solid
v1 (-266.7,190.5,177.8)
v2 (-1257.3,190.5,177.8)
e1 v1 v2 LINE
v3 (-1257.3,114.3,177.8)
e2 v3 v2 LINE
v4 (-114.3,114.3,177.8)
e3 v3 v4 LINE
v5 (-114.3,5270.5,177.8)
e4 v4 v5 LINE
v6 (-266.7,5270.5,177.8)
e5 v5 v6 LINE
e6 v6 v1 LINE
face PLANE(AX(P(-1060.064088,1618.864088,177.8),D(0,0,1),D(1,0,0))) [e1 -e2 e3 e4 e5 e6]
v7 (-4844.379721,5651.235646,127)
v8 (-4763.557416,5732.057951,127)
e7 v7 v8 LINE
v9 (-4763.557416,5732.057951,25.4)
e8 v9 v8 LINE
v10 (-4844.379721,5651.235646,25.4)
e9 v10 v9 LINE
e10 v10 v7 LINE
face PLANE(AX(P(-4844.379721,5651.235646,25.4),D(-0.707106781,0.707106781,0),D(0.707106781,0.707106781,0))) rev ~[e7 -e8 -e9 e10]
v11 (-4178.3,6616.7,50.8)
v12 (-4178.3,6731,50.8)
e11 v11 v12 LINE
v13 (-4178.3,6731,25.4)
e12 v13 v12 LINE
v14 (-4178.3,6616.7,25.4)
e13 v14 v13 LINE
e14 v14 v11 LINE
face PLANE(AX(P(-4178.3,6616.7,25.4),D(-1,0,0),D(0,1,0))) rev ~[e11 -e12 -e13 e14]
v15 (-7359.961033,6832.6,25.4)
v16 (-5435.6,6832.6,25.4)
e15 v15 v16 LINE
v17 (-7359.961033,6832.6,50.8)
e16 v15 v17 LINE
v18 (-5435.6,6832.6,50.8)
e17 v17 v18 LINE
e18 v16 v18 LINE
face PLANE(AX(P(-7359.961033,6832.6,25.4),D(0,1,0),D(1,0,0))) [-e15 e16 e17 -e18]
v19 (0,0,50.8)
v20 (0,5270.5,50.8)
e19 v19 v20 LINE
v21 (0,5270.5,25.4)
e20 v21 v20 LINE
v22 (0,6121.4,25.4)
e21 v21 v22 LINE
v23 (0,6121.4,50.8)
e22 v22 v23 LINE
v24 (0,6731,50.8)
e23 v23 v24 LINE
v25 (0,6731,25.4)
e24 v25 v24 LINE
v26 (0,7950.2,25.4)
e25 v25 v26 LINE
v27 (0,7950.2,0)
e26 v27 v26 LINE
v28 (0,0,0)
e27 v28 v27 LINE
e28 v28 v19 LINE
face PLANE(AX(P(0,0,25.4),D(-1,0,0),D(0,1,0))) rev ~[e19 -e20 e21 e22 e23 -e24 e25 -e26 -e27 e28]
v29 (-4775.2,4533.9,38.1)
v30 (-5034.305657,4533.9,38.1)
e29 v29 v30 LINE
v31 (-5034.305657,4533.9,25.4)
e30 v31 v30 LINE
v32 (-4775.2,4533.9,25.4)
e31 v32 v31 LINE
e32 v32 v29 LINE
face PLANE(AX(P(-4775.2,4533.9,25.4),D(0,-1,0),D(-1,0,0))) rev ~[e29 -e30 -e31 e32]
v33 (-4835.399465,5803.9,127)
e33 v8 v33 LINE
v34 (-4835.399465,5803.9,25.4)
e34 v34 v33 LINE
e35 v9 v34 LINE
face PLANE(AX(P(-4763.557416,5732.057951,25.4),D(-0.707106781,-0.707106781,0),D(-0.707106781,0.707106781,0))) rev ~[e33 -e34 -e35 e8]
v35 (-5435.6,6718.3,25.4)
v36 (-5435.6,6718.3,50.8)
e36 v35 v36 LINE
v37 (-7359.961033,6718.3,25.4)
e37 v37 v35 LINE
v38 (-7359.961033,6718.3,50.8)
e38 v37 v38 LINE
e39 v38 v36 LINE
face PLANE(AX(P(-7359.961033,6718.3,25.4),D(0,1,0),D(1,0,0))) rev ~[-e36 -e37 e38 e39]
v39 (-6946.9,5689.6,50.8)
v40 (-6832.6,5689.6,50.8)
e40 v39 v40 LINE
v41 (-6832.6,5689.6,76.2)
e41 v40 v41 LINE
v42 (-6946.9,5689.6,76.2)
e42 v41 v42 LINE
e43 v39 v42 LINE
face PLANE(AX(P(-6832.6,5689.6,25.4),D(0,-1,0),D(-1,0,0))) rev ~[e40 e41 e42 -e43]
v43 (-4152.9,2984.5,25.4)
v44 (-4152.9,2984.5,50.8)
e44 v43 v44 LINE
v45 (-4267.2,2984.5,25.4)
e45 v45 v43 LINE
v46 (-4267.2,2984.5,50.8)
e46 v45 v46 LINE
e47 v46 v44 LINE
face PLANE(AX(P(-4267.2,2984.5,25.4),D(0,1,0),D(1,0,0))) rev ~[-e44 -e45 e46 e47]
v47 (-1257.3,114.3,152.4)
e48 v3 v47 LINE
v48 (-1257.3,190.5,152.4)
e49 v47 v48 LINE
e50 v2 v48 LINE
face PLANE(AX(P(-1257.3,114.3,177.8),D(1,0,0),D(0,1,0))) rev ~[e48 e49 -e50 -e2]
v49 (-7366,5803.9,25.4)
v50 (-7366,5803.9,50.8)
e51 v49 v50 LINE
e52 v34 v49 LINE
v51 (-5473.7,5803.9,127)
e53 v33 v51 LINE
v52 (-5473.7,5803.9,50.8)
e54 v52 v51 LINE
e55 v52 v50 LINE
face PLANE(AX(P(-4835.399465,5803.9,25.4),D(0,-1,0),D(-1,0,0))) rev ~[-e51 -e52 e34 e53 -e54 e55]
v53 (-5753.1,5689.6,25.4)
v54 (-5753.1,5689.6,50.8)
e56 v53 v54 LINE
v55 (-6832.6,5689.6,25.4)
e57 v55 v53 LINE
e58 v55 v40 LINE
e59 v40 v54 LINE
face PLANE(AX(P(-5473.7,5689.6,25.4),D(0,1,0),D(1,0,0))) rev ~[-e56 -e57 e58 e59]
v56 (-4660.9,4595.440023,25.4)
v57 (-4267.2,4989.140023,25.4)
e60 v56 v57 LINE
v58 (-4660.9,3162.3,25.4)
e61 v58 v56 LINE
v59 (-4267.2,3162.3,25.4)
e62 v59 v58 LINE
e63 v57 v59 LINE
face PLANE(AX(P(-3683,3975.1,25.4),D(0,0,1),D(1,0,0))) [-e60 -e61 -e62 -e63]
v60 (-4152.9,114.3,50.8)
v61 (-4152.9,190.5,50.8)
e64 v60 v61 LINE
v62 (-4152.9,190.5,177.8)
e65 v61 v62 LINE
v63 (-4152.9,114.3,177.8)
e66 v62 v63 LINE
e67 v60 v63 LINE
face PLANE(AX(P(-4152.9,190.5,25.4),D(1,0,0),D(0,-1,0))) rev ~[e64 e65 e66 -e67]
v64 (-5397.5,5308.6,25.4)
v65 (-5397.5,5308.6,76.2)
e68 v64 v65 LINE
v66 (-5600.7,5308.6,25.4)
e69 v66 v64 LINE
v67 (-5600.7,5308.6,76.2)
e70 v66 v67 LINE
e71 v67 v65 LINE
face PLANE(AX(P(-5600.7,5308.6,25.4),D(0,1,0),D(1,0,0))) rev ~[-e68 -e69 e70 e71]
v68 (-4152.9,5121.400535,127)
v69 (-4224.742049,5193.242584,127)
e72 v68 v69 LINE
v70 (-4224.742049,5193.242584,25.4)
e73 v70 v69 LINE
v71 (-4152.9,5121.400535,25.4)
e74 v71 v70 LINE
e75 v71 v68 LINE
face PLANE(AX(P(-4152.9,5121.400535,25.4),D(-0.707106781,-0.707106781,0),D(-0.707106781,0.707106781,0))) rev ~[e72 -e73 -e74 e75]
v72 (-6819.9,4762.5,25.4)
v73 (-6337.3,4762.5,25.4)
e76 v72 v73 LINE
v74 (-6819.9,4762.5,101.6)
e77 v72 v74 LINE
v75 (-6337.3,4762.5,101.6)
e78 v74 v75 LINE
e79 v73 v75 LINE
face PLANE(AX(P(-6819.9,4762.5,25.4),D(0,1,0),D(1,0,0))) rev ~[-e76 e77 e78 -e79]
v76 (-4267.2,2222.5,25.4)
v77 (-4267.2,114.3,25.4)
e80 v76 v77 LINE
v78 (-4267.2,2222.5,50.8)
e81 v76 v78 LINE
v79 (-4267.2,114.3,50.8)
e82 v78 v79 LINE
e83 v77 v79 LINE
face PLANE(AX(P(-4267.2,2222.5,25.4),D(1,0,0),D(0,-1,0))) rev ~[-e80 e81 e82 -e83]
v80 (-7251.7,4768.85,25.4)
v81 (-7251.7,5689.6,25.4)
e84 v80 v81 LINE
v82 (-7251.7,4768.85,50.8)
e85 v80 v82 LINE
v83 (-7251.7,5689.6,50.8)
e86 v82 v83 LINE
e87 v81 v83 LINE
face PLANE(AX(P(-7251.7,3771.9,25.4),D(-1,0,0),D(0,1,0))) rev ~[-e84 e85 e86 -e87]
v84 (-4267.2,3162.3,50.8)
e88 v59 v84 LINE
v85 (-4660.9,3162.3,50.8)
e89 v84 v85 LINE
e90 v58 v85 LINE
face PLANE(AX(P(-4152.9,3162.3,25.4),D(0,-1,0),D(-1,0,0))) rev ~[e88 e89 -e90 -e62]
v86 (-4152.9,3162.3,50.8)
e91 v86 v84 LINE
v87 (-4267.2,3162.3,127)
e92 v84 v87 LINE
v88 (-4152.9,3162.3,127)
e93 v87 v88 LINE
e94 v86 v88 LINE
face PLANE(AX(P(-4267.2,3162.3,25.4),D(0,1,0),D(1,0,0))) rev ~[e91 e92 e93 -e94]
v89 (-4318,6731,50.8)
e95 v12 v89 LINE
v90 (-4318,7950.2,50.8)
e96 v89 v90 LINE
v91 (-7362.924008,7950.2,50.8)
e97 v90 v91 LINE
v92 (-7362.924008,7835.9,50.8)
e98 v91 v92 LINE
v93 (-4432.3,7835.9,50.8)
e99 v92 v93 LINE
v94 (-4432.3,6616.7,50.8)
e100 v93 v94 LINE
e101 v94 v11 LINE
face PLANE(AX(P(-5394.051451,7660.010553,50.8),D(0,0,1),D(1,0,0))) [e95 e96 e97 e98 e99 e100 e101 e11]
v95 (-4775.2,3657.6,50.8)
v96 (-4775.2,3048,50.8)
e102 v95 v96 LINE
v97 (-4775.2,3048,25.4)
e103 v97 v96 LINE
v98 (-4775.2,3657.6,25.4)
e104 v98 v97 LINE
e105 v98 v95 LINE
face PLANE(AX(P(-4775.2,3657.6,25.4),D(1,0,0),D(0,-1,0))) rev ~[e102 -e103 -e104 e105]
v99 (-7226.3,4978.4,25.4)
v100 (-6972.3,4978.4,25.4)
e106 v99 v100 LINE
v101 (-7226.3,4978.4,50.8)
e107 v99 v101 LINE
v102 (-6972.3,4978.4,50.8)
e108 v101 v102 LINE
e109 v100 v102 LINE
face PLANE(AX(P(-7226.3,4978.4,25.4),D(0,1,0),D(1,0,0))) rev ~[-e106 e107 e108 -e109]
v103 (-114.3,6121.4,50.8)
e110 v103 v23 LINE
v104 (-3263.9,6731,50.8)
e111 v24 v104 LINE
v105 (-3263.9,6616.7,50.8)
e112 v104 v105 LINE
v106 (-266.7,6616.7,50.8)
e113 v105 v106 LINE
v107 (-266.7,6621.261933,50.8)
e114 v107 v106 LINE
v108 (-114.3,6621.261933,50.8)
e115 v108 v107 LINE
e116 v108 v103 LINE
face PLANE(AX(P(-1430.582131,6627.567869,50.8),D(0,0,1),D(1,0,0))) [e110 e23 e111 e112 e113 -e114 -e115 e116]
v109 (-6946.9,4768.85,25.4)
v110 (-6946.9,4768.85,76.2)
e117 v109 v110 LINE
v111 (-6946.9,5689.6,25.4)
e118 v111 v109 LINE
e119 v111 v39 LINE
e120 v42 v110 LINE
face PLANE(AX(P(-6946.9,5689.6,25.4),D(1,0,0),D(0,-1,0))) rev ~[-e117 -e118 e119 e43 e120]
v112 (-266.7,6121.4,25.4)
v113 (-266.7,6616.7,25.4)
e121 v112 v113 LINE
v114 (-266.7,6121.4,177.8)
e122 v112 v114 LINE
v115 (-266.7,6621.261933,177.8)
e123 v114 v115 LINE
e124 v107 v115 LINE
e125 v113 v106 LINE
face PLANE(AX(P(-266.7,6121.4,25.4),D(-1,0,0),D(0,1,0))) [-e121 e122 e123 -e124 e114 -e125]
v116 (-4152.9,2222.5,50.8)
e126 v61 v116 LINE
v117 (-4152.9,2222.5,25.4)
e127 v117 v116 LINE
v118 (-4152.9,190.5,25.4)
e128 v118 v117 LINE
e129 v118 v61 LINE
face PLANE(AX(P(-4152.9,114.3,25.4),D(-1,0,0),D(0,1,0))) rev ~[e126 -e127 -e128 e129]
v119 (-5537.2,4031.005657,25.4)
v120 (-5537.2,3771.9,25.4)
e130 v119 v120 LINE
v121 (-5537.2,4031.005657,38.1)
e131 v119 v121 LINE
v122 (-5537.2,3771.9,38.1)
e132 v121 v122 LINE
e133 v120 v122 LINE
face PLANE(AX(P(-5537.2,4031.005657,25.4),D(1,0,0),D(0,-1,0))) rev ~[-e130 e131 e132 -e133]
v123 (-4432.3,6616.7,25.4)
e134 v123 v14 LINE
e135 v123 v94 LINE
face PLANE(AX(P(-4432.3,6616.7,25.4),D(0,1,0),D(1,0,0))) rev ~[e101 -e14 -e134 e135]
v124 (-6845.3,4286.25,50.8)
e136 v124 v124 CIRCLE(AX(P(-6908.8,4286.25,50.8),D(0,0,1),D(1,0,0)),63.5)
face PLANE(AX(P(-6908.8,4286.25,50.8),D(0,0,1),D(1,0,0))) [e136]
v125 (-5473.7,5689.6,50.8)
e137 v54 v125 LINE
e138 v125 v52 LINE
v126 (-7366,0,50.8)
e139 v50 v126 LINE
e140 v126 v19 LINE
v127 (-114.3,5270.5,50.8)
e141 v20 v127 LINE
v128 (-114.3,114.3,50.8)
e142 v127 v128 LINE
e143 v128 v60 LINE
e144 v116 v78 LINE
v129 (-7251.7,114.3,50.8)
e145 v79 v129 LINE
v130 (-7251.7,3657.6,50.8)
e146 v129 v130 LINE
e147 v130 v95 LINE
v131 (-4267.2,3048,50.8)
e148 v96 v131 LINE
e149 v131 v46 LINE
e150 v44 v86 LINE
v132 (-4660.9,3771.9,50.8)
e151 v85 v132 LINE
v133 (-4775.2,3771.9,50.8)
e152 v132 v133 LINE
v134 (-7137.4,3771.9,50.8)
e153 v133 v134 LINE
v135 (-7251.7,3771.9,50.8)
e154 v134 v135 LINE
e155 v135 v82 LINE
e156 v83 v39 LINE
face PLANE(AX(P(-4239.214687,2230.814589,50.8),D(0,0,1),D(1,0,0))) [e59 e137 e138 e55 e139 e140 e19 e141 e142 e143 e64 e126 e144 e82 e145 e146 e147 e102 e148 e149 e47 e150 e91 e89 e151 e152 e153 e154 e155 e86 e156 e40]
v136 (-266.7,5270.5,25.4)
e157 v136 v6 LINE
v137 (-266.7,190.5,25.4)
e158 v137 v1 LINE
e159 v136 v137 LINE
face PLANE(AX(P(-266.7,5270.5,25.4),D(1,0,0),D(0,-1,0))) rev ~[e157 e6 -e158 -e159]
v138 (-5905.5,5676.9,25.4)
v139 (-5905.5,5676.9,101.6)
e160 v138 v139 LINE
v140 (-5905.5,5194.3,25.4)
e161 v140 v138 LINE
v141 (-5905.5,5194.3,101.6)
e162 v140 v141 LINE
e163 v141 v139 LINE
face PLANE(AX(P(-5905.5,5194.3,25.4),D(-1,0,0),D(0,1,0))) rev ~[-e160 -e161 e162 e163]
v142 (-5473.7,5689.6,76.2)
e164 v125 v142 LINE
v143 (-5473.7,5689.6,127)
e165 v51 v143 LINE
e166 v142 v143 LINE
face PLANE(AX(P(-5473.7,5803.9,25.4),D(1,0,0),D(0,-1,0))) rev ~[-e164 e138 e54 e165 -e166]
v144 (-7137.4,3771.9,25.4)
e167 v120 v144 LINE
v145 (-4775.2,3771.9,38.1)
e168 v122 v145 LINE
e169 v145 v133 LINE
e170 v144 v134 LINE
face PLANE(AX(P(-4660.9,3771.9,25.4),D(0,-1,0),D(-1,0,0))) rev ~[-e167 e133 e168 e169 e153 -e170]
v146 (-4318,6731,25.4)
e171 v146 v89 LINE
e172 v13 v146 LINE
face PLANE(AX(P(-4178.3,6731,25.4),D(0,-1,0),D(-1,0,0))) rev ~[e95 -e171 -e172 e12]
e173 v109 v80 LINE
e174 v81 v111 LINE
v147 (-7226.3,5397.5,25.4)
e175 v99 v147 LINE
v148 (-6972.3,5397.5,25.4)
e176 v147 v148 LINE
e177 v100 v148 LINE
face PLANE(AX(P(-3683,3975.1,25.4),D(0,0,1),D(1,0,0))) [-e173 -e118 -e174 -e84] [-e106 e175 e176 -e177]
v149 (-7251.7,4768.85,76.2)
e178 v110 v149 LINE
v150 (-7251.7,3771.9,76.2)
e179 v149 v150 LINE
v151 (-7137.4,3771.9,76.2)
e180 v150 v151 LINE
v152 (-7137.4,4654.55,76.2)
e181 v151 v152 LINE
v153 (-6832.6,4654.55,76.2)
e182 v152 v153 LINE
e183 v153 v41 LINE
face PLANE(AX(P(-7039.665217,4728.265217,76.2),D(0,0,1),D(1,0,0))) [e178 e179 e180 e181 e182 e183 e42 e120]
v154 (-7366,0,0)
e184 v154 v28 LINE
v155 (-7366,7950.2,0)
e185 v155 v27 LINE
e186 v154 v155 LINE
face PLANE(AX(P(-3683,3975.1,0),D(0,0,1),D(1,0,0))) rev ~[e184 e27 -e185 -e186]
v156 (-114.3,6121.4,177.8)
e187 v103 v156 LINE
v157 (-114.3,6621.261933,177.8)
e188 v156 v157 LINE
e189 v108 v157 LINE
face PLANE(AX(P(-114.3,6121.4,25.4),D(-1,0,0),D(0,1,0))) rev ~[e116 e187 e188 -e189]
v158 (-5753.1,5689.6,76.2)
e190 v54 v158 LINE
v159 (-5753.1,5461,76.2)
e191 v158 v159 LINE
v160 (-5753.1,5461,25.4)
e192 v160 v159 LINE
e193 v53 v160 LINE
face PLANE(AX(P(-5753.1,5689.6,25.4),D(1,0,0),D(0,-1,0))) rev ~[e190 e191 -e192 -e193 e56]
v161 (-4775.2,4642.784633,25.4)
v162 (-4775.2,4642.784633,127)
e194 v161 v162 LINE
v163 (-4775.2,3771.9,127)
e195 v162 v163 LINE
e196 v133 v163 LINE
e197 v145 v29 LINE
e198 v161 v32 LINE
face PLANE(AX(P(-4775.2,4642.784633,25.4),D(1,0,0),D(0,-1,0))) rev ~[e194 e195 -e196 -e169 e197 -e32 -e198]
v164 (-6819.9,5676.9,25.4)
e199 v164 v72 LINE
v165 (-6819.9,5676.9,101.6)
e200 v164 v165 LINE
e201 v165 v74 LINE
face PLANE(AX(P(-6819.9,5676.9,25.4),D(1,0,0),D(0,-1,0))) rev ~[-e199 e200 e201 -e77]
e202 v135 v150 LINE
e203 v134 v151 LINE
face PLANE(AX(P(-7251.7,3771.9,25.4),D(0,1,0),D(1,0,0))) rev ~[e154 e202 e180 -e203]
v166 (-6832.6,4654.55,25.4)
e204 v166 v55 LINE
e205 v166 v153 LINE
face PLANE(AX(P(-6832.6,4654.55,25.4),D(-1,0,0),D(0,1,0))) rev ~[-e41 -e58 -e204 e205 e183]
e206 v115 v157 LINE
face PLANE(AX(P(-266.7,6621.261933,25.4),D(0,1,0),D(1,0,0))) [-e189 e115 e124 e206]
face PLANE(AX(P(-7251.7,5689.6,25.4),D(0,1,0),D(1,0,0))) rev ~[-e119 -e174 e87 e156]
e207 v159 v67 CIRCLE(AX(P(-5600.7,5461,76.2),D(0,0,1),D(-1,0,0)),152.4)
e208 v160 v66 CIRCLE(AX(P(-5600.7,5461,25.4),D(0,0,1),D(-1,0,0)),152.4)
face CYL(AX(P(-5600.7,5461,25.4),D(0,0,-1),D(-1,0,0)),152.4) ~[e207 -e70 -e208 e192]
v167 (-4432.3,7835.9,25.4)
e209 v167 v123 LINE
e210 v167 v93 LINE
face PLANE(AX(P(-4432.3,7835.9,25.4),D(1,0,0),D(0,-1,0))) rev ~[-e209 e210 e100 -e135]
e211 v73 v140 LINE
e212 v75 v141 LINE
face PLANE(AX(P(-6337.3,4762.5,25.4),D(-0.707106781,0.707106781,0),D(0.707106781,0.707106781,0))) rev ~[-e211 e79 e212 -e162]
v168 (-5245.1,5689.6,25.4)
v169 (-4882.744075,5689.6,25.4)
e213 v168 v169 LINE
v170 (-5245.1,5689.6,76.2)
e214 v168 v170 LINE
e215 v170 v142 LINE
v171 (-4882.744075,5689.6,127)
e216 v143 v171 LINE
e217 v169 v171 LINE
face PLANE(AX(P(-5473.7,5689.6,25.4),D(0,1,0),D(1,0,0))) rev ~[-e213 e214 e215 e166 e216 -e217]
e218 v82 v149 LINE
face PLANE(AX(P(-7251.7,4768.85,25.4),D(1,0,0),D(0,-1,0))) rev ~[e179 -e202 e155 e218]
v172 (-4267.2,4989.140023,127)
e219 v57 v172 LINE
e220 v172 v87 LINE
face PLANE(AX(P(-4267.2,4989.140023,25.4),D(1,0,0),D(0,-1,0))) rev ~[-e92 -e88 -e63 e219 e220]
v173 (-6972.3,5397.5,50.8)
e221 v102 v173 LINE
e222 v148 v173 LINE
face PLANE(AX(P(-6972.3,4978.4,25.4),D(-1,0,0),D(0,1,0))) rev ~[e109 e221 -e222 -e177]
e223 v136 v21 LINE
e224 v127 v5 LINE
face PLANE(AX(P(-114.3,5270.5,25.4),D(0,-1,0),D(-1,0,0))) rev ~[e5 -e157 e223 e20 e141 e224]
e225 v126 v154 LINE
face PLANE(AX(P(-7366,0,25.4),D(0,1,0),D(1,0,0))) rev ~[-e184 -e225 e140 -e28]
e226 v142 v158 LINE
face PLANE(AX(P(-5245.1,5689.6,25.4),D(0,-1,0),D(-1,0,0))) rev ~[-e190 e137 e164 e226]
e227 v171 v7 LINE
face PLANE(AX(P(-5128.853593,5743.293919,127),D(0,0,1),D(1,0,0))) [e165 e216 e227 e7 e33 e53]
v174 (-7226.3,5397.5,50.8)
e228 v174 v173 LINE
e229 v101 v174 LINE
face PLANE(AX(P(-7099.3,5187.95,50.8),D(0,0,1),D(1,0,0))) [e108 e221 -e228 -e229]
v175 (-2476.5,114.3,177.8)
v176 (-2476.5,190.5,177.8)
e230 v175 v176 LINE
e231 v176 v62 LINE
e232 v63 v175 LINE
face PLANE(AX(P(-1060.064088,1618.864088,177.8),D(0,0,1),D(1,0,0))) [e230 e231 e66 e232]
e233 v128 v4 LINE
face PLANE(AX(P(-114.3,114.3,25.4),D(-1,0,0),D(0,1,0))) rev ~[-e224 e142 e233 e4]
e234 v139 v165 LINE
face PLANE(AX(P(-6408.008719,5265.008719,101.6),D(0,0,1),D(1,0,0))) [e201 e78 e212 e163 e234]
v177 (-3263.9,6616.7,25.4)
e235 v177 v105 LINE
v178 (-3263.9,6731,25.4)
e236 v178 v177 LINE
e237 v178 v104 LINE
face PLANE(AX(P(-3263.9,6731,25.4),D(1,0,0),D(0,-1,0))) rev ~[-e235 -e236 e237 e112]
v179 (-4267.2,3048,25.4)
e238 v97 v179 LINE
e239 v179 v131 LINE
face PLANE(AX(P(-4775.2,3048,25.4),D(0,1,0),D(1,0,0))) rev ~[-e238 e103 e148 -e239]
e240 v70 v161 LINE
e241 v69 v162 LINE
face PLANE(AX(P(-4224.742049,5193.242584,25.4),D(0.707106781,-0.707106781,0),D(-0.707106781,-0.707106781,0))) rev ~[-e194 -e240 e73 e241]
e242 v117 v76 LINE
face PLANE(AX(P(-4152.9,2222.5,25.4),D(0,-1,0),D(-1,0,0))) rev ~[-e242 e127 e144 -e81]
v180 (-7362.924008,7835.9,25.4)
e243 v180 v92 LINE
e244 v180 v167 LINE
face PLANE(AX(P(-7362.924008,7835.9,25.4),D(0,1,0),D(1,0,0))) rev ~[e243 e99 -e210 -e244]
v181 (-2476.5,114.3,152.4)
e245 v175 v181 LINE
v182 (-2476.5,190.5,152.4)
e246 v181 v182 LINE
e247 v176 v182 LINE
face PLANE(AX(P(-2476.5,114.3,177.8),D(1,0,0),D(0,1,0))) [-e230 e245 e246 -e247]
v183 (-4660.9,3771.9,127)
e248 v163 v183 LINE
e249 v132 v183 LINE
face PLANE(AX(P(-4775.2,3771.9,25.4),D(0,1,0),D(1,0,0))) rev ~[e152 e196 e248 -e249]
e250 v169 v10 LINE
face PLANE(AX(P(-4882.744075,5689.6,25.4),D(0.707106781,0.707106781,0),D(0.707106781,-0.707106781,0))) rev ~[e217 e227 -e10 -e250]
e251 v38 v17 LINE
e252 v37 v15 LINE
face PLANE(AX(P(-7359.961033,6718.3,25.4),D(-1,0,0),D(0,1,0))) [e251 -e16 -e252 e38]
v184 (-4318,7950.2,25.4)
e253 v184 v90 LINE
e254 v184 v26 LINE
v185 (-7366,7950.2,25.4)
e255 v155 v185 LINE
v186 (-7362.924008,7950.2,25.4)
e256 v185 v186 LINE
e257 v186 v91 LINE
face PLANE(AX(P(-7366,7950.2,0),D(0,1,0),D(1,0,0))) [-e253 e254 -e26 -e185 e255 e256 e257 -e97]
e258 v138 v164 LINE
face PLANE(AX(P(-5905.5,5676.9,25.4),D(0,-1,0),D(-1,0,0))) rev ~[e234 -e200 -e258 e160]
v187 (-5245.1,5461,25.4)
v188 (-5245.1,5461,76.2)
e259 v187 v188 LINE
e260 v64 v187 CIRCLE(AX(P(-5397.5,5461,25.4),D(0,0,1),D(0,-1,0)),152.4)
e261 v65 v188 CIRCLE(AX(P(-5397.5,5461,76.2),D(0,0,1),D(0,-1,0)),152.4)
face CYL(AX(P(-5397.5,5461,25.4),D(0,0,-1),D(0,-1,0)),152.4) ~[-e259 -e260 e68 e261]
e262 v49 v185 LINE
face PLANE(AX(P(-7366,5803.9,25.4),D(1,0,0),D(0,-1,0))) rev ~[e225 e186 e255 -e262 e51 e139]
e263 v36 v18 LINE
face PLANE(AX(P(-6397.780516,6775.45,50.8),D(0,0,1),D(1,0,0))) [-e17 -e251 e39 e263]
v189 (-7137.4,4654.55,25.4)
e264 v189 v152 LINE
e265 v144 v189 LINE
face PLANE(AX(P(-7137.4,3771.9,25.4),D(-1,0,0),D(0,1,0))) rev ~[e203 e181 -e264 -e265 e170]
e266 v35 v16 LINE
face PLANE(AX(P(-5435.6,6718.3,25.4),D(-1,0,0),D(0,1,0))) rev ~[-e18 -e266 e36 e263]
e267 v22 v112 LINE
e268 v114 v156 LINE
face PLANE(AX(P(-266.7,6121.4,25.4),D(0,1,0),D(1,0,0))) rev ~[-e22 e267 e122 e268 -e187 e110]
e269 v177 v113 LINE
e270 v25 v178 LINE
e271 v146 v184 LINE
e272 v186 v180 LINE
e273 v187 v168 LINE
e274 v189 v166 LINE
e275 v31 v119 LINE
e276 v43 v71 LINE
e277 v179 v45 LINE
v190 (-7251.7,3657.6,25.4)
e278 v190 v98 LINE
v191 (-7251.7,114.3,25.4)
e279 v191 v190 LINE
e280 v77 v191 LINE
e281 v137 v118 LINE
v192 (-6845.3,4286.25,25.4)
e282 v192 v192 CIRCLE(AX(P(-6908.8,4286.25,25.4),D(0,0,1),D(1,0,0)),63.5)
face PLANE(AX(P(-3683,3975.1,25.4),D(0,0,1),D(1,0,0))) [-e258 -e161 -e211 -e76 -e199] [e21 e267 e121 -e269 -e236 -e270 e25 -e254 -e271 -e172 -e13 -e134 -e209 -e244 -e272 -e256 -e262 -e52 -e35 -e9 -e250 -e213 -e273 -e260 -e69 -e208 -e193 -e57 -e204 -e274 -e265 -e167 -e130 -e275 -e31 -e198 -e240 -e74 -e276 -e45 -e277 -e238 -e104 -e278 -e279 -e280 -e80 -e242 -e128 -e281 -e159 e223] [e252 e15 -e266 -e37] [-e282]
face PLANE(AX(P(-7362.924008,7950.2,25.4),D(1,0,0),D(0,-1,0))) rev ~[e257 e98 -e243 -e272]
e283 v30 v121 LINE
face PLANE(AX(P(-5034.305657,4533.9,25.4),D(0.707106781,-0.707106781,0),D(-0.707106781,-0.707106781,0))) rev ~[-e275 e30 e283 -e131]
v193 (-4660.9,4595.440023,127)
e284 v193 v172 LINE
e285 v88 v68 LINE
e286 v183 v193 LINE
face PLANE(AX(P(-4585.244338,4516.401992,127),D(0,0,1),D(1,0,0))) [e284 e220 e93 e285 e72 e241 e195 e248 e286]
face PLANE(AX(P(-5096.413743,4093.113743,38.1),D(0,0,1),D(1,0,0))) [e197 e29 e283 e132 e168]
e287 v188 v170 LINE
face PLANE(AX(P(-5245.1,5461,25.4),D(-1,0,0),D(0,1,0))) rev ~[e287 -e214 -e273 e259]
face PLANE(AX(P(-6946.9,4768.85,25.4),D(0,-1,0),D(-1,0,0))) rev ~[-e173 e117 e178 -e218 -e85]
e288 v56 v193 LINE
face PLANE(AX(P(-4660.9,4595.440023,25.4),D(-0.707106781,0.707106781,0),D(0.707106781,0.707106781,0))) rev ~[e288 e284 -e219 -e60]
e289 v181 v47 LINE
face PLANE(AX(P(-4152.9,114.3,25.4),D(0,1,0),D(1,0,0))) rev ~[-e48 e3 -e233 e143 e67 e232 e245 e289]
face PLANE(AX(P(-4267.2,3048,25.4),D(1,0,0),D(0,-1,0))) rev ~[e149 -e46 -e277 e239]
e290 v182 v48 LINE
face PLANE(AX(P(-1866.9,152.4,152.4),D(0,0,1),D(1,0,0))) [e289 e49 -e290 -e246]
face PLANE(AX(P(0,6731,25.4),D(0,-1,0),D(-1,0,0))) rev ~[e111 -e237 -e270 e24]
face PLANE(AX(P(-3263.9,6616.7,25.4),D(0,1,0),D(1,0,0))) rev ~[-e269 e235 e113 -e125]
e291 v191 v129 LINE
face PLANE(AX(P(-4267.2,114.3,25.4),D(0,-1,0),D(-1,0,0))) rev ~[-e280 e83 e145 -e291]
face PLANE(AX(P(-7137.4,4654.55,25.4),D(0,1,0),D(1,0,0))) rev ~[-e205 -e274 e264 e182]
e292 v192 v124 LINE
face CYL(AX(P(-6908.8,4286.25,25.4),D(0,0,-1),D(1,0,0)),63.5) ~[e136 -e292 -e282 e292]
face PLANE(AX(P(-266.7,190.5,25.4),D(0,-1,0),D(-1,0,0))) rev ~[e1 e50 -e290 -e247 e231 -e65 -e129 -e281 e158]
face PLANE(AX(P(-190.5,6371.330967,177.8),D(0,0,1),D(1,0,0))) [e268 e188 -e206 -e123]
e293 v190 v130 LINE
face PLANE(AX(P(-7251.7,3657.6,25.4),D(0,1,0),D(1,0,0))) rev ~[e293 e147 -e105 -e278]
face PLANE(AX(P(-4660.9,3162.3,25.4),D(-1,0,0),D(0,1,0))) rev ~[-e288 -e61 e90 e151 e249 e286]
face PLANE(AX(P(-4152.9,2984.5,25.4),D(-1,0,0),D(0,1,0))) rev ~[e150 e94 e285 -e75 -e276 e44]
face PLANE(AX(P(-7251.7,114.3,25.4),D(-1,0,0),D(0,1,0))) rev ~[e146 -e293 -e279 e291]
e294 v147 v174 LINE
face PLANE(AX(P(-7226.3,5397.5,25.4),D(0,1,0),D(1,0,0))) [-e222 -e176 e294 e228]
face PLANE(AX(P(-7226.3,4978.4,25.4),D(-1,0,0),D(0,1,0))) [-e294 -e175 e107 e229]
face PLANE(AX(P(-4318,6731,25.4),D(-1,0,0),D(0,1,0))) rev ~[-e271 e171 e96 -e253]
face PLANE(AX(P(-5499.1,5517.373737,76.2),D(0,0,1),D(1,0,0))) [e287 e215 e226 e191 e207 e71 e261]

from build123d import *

# Parameters (mm, degrees)
F0_W      = 7366
F0_H      = 7950.2
F1_DEPTH  = 25.4
F2_W      = 1924.3610328674
F2_H      = 114.3
F3_DEPTH  = 25.4
F4_R      = 63.5
F4_W      = 254
F4_H      = 419.1
F4_R_2    = 44.45
F5_DEPTH  = 25.4
F7_DEPTH  = 50.8
F9_DEPTH  = 76.2
F11_DEPTH = 101.6
F13_DEPTH = 12.7
F16_DEPTH = 50.8
F17_W     = 152.4
F17_H     = 499.8619333267
F18_DEPTH = 152.4
F19_W     = 1219.2
F19_H     = 76.2
F20_DEPTH = 25.4


with BuildPart() as f1:
    # F0 (on Top) → F1 (new body)
    with BuildSketch(Plane.XY):
        with Locations((-3683, 3975.1)):
            Rectangle(F0_W, F0_H)
    extrude(amount=F1_DEPTH)

    # F2 (on face) → F3 (join)
    with BuildSketch(Plane.XY.offset(25.4)):
        Polygon((-7366, 0), (0, 0), (0, 5270.5), (-114.3, 5270.5), (-114.3, 114.3), (-4152.9, 114.3), (-4152.9, 2222.5), (-4267.2, 2222.5), (-4267.2, 114.3), (-7251.7, 114.3), (-7251.7, 3657.6), (-4775.2, 3657.6), (-4775.2, 3048), (-4267.2, 3048), (-4267.2, 2984.5), (-4152.9, 2984.5), (-4152.9, 3162.3), (-4660.9, 3162.3), (-4660.9, 3771.9), (-7251.7, 3771.9), (-7251.7, 5689.6), (-5473.7, 5689.6), (-5473.7, 5803.9), (-7366, 5803.9), (-7366, 3657.6), align=None)
        Polygon((-114.3, 6121.4), (0, 6121.4), (0, 6731), (-3263.9, 6731), (-3263.9, 6616.7), (-114.3, 6616.7), align=None)
        Polygon((-4432.3, 6616.7), (-4178.3, 6616.7), (-4178.3, 6731), (-4318, 6731), (-4318, 7950.2), (-7362.9240081787, 7950.2), (-7362.9240081787, 7835.9), (-4432.3, 7835.9), align=None)
        with Locations((-6397.7805164337, 6775.45)):
            Rectangle(F2_W, F2_H)
    extrude(amount=F3_DEPTH)

    # F4 (on face) → F5 (join)
    with BuildSketch(Plane.XY.offset(25.4)):
        with Locations((-6908.8, 4286.25)):
            Circle(F4_R)
        with Locations((-7099.3, 5187.95)):
            Rectangle(F4_W, F4_H)
        with Locations((-7200.9, 4692.65)):
            Circle(F4_R_2)
    extrude(amount=F5_DEPTH)

    # F6 (on face) → F7 (join)
    with BuildSketch(Plane.XY.offset(25.4)):
        Polygon((-6832.6, 5689.6), (-6946.9, 5689.6), (-6946.9, 4768.85), (-7251.7, 4768.85), (-7251.7, 3771.9), (-7137.4, 3771.9), (-7137.4, 4654.55), (-6832.6, 4654.55), align=None)
    extrude(amount=F7_DEPTH)

    # F8 (on face) → F9 (join)
    with BuildSketch(Plane.XY.offset(25.4)):
        Polygon((-5905.5, 5676.9), (-6819.9, 5676.9), (-6819.9, 4762.5), (-6337.3, 4762.5), (-5905.5, 5194.3), align=None)
    extrude(amount=F9_DEPTH)

    # F10 (on face) → F11 (join)
    with BuildSketch(Plane.XY.offset(25.4)):
        Polygon((-5473.7, 5803.9), (-5473.7, 5689.6), (-4882.7440753805, 5689.6), (-4844.3797213223, 5651.2356459418), (-4763.5574162327, 5732.0579510314), (-4835.3994652013, 5803.9), align=None)
        Polygon((-4775.2, 4597.4), (-4775.2, 3771.9), (-4660.9, 3771.9), (-4660.9, 4595.4400225566), (-4267.2, 4989.1400225566), (-4267.2, 4991.1), (-4265.2400225566, 4991.1), (-4152.9, 5103.4400225566), (-4152.9, 5105.4), (-4152.9, 5121.4005347987), (-4224.7420489686, 5193.2425837673), (-4305.5643540582, 5112.4202786777), (-4775.2, 4642.7846327359), align=None)
        Polygon((-4265.2400225566, 4991.1), (-4267.2, 4989.1400225566), (-4267.2, 3162.3), (-4152.9, 3162.3), (-4152.9, 5103.4400225566), align=None)
        Polygon((-4267.2, 4991.1), (-4267.2, 4989.1400225566), (-4265.2400225566, 4991.1), align=None)
    extrude(amount=F11_DEPTH)

    # F12 (on face) → F13 (join)
    with BuildSketch(Plane.XY.offset(25.4)):
        Polygon((-5537.2, 3771.9), (-4775.2, 3771.9), (-4775.2, 4533.9), (-5034.3056572201, 4533.9), (-5537.2, 4031.0056572201), align=None)
    extrude(amount=F13_DEPTH)

    # F15 (on face) → F16 (join)
    with BuildSketch(Plane.XY.offset(25.4)):
        with BuildLine():
            Line((-5245.1, 5689.6), (-5753.1, 5689.6))
            Line((-5753.1, 5689.6), (-5753.1, 5461))
            ThreePointArc((-5753.1, 5461), (-5708.4630734528, 5353.2369265472), (-5600.7, 5308.6))
            Line((-5600.7, 5308.6), (-5397.5, 5308.6))
            ThreePointArc((-5397.5, 5308.6), (-5289.7369265472, 5353.2369265472), (-5245.1, 5461))
            Line((-5245.1, 5461), (-5245.1, 5689.6))
        make_face()
    extrude(amount=F16_DEPTH)

    # F17 (on face) → F18 (join)
    with BuildSketch(Plane.XY.offset(25.4)):
        Polygon((-266.7, 190.5), (-4152.9, 190.5), (-4152.9, 114.3), (-114.3, 114.3), (-114.3, 190.5), (-114.3, 5270.5), (-266.7, 5270.5), align=None)
        with Locations((-190.5, 6371.3309666634)):
            Rectangle(F17_W, F17_H)
    extrude(amount=F18_DEPTH)

    # F19 (on face) → F20 (cut)
    with BuildSketch(Plane.XY.offset(177.8)):
        with Locations((-1866.9, 152.4)):
            Rectangle(F19_W, F19_H)
    extrude(amount=-F20_DEPTH, mode=Mode.SUBTRACT)


solid = f1.part
